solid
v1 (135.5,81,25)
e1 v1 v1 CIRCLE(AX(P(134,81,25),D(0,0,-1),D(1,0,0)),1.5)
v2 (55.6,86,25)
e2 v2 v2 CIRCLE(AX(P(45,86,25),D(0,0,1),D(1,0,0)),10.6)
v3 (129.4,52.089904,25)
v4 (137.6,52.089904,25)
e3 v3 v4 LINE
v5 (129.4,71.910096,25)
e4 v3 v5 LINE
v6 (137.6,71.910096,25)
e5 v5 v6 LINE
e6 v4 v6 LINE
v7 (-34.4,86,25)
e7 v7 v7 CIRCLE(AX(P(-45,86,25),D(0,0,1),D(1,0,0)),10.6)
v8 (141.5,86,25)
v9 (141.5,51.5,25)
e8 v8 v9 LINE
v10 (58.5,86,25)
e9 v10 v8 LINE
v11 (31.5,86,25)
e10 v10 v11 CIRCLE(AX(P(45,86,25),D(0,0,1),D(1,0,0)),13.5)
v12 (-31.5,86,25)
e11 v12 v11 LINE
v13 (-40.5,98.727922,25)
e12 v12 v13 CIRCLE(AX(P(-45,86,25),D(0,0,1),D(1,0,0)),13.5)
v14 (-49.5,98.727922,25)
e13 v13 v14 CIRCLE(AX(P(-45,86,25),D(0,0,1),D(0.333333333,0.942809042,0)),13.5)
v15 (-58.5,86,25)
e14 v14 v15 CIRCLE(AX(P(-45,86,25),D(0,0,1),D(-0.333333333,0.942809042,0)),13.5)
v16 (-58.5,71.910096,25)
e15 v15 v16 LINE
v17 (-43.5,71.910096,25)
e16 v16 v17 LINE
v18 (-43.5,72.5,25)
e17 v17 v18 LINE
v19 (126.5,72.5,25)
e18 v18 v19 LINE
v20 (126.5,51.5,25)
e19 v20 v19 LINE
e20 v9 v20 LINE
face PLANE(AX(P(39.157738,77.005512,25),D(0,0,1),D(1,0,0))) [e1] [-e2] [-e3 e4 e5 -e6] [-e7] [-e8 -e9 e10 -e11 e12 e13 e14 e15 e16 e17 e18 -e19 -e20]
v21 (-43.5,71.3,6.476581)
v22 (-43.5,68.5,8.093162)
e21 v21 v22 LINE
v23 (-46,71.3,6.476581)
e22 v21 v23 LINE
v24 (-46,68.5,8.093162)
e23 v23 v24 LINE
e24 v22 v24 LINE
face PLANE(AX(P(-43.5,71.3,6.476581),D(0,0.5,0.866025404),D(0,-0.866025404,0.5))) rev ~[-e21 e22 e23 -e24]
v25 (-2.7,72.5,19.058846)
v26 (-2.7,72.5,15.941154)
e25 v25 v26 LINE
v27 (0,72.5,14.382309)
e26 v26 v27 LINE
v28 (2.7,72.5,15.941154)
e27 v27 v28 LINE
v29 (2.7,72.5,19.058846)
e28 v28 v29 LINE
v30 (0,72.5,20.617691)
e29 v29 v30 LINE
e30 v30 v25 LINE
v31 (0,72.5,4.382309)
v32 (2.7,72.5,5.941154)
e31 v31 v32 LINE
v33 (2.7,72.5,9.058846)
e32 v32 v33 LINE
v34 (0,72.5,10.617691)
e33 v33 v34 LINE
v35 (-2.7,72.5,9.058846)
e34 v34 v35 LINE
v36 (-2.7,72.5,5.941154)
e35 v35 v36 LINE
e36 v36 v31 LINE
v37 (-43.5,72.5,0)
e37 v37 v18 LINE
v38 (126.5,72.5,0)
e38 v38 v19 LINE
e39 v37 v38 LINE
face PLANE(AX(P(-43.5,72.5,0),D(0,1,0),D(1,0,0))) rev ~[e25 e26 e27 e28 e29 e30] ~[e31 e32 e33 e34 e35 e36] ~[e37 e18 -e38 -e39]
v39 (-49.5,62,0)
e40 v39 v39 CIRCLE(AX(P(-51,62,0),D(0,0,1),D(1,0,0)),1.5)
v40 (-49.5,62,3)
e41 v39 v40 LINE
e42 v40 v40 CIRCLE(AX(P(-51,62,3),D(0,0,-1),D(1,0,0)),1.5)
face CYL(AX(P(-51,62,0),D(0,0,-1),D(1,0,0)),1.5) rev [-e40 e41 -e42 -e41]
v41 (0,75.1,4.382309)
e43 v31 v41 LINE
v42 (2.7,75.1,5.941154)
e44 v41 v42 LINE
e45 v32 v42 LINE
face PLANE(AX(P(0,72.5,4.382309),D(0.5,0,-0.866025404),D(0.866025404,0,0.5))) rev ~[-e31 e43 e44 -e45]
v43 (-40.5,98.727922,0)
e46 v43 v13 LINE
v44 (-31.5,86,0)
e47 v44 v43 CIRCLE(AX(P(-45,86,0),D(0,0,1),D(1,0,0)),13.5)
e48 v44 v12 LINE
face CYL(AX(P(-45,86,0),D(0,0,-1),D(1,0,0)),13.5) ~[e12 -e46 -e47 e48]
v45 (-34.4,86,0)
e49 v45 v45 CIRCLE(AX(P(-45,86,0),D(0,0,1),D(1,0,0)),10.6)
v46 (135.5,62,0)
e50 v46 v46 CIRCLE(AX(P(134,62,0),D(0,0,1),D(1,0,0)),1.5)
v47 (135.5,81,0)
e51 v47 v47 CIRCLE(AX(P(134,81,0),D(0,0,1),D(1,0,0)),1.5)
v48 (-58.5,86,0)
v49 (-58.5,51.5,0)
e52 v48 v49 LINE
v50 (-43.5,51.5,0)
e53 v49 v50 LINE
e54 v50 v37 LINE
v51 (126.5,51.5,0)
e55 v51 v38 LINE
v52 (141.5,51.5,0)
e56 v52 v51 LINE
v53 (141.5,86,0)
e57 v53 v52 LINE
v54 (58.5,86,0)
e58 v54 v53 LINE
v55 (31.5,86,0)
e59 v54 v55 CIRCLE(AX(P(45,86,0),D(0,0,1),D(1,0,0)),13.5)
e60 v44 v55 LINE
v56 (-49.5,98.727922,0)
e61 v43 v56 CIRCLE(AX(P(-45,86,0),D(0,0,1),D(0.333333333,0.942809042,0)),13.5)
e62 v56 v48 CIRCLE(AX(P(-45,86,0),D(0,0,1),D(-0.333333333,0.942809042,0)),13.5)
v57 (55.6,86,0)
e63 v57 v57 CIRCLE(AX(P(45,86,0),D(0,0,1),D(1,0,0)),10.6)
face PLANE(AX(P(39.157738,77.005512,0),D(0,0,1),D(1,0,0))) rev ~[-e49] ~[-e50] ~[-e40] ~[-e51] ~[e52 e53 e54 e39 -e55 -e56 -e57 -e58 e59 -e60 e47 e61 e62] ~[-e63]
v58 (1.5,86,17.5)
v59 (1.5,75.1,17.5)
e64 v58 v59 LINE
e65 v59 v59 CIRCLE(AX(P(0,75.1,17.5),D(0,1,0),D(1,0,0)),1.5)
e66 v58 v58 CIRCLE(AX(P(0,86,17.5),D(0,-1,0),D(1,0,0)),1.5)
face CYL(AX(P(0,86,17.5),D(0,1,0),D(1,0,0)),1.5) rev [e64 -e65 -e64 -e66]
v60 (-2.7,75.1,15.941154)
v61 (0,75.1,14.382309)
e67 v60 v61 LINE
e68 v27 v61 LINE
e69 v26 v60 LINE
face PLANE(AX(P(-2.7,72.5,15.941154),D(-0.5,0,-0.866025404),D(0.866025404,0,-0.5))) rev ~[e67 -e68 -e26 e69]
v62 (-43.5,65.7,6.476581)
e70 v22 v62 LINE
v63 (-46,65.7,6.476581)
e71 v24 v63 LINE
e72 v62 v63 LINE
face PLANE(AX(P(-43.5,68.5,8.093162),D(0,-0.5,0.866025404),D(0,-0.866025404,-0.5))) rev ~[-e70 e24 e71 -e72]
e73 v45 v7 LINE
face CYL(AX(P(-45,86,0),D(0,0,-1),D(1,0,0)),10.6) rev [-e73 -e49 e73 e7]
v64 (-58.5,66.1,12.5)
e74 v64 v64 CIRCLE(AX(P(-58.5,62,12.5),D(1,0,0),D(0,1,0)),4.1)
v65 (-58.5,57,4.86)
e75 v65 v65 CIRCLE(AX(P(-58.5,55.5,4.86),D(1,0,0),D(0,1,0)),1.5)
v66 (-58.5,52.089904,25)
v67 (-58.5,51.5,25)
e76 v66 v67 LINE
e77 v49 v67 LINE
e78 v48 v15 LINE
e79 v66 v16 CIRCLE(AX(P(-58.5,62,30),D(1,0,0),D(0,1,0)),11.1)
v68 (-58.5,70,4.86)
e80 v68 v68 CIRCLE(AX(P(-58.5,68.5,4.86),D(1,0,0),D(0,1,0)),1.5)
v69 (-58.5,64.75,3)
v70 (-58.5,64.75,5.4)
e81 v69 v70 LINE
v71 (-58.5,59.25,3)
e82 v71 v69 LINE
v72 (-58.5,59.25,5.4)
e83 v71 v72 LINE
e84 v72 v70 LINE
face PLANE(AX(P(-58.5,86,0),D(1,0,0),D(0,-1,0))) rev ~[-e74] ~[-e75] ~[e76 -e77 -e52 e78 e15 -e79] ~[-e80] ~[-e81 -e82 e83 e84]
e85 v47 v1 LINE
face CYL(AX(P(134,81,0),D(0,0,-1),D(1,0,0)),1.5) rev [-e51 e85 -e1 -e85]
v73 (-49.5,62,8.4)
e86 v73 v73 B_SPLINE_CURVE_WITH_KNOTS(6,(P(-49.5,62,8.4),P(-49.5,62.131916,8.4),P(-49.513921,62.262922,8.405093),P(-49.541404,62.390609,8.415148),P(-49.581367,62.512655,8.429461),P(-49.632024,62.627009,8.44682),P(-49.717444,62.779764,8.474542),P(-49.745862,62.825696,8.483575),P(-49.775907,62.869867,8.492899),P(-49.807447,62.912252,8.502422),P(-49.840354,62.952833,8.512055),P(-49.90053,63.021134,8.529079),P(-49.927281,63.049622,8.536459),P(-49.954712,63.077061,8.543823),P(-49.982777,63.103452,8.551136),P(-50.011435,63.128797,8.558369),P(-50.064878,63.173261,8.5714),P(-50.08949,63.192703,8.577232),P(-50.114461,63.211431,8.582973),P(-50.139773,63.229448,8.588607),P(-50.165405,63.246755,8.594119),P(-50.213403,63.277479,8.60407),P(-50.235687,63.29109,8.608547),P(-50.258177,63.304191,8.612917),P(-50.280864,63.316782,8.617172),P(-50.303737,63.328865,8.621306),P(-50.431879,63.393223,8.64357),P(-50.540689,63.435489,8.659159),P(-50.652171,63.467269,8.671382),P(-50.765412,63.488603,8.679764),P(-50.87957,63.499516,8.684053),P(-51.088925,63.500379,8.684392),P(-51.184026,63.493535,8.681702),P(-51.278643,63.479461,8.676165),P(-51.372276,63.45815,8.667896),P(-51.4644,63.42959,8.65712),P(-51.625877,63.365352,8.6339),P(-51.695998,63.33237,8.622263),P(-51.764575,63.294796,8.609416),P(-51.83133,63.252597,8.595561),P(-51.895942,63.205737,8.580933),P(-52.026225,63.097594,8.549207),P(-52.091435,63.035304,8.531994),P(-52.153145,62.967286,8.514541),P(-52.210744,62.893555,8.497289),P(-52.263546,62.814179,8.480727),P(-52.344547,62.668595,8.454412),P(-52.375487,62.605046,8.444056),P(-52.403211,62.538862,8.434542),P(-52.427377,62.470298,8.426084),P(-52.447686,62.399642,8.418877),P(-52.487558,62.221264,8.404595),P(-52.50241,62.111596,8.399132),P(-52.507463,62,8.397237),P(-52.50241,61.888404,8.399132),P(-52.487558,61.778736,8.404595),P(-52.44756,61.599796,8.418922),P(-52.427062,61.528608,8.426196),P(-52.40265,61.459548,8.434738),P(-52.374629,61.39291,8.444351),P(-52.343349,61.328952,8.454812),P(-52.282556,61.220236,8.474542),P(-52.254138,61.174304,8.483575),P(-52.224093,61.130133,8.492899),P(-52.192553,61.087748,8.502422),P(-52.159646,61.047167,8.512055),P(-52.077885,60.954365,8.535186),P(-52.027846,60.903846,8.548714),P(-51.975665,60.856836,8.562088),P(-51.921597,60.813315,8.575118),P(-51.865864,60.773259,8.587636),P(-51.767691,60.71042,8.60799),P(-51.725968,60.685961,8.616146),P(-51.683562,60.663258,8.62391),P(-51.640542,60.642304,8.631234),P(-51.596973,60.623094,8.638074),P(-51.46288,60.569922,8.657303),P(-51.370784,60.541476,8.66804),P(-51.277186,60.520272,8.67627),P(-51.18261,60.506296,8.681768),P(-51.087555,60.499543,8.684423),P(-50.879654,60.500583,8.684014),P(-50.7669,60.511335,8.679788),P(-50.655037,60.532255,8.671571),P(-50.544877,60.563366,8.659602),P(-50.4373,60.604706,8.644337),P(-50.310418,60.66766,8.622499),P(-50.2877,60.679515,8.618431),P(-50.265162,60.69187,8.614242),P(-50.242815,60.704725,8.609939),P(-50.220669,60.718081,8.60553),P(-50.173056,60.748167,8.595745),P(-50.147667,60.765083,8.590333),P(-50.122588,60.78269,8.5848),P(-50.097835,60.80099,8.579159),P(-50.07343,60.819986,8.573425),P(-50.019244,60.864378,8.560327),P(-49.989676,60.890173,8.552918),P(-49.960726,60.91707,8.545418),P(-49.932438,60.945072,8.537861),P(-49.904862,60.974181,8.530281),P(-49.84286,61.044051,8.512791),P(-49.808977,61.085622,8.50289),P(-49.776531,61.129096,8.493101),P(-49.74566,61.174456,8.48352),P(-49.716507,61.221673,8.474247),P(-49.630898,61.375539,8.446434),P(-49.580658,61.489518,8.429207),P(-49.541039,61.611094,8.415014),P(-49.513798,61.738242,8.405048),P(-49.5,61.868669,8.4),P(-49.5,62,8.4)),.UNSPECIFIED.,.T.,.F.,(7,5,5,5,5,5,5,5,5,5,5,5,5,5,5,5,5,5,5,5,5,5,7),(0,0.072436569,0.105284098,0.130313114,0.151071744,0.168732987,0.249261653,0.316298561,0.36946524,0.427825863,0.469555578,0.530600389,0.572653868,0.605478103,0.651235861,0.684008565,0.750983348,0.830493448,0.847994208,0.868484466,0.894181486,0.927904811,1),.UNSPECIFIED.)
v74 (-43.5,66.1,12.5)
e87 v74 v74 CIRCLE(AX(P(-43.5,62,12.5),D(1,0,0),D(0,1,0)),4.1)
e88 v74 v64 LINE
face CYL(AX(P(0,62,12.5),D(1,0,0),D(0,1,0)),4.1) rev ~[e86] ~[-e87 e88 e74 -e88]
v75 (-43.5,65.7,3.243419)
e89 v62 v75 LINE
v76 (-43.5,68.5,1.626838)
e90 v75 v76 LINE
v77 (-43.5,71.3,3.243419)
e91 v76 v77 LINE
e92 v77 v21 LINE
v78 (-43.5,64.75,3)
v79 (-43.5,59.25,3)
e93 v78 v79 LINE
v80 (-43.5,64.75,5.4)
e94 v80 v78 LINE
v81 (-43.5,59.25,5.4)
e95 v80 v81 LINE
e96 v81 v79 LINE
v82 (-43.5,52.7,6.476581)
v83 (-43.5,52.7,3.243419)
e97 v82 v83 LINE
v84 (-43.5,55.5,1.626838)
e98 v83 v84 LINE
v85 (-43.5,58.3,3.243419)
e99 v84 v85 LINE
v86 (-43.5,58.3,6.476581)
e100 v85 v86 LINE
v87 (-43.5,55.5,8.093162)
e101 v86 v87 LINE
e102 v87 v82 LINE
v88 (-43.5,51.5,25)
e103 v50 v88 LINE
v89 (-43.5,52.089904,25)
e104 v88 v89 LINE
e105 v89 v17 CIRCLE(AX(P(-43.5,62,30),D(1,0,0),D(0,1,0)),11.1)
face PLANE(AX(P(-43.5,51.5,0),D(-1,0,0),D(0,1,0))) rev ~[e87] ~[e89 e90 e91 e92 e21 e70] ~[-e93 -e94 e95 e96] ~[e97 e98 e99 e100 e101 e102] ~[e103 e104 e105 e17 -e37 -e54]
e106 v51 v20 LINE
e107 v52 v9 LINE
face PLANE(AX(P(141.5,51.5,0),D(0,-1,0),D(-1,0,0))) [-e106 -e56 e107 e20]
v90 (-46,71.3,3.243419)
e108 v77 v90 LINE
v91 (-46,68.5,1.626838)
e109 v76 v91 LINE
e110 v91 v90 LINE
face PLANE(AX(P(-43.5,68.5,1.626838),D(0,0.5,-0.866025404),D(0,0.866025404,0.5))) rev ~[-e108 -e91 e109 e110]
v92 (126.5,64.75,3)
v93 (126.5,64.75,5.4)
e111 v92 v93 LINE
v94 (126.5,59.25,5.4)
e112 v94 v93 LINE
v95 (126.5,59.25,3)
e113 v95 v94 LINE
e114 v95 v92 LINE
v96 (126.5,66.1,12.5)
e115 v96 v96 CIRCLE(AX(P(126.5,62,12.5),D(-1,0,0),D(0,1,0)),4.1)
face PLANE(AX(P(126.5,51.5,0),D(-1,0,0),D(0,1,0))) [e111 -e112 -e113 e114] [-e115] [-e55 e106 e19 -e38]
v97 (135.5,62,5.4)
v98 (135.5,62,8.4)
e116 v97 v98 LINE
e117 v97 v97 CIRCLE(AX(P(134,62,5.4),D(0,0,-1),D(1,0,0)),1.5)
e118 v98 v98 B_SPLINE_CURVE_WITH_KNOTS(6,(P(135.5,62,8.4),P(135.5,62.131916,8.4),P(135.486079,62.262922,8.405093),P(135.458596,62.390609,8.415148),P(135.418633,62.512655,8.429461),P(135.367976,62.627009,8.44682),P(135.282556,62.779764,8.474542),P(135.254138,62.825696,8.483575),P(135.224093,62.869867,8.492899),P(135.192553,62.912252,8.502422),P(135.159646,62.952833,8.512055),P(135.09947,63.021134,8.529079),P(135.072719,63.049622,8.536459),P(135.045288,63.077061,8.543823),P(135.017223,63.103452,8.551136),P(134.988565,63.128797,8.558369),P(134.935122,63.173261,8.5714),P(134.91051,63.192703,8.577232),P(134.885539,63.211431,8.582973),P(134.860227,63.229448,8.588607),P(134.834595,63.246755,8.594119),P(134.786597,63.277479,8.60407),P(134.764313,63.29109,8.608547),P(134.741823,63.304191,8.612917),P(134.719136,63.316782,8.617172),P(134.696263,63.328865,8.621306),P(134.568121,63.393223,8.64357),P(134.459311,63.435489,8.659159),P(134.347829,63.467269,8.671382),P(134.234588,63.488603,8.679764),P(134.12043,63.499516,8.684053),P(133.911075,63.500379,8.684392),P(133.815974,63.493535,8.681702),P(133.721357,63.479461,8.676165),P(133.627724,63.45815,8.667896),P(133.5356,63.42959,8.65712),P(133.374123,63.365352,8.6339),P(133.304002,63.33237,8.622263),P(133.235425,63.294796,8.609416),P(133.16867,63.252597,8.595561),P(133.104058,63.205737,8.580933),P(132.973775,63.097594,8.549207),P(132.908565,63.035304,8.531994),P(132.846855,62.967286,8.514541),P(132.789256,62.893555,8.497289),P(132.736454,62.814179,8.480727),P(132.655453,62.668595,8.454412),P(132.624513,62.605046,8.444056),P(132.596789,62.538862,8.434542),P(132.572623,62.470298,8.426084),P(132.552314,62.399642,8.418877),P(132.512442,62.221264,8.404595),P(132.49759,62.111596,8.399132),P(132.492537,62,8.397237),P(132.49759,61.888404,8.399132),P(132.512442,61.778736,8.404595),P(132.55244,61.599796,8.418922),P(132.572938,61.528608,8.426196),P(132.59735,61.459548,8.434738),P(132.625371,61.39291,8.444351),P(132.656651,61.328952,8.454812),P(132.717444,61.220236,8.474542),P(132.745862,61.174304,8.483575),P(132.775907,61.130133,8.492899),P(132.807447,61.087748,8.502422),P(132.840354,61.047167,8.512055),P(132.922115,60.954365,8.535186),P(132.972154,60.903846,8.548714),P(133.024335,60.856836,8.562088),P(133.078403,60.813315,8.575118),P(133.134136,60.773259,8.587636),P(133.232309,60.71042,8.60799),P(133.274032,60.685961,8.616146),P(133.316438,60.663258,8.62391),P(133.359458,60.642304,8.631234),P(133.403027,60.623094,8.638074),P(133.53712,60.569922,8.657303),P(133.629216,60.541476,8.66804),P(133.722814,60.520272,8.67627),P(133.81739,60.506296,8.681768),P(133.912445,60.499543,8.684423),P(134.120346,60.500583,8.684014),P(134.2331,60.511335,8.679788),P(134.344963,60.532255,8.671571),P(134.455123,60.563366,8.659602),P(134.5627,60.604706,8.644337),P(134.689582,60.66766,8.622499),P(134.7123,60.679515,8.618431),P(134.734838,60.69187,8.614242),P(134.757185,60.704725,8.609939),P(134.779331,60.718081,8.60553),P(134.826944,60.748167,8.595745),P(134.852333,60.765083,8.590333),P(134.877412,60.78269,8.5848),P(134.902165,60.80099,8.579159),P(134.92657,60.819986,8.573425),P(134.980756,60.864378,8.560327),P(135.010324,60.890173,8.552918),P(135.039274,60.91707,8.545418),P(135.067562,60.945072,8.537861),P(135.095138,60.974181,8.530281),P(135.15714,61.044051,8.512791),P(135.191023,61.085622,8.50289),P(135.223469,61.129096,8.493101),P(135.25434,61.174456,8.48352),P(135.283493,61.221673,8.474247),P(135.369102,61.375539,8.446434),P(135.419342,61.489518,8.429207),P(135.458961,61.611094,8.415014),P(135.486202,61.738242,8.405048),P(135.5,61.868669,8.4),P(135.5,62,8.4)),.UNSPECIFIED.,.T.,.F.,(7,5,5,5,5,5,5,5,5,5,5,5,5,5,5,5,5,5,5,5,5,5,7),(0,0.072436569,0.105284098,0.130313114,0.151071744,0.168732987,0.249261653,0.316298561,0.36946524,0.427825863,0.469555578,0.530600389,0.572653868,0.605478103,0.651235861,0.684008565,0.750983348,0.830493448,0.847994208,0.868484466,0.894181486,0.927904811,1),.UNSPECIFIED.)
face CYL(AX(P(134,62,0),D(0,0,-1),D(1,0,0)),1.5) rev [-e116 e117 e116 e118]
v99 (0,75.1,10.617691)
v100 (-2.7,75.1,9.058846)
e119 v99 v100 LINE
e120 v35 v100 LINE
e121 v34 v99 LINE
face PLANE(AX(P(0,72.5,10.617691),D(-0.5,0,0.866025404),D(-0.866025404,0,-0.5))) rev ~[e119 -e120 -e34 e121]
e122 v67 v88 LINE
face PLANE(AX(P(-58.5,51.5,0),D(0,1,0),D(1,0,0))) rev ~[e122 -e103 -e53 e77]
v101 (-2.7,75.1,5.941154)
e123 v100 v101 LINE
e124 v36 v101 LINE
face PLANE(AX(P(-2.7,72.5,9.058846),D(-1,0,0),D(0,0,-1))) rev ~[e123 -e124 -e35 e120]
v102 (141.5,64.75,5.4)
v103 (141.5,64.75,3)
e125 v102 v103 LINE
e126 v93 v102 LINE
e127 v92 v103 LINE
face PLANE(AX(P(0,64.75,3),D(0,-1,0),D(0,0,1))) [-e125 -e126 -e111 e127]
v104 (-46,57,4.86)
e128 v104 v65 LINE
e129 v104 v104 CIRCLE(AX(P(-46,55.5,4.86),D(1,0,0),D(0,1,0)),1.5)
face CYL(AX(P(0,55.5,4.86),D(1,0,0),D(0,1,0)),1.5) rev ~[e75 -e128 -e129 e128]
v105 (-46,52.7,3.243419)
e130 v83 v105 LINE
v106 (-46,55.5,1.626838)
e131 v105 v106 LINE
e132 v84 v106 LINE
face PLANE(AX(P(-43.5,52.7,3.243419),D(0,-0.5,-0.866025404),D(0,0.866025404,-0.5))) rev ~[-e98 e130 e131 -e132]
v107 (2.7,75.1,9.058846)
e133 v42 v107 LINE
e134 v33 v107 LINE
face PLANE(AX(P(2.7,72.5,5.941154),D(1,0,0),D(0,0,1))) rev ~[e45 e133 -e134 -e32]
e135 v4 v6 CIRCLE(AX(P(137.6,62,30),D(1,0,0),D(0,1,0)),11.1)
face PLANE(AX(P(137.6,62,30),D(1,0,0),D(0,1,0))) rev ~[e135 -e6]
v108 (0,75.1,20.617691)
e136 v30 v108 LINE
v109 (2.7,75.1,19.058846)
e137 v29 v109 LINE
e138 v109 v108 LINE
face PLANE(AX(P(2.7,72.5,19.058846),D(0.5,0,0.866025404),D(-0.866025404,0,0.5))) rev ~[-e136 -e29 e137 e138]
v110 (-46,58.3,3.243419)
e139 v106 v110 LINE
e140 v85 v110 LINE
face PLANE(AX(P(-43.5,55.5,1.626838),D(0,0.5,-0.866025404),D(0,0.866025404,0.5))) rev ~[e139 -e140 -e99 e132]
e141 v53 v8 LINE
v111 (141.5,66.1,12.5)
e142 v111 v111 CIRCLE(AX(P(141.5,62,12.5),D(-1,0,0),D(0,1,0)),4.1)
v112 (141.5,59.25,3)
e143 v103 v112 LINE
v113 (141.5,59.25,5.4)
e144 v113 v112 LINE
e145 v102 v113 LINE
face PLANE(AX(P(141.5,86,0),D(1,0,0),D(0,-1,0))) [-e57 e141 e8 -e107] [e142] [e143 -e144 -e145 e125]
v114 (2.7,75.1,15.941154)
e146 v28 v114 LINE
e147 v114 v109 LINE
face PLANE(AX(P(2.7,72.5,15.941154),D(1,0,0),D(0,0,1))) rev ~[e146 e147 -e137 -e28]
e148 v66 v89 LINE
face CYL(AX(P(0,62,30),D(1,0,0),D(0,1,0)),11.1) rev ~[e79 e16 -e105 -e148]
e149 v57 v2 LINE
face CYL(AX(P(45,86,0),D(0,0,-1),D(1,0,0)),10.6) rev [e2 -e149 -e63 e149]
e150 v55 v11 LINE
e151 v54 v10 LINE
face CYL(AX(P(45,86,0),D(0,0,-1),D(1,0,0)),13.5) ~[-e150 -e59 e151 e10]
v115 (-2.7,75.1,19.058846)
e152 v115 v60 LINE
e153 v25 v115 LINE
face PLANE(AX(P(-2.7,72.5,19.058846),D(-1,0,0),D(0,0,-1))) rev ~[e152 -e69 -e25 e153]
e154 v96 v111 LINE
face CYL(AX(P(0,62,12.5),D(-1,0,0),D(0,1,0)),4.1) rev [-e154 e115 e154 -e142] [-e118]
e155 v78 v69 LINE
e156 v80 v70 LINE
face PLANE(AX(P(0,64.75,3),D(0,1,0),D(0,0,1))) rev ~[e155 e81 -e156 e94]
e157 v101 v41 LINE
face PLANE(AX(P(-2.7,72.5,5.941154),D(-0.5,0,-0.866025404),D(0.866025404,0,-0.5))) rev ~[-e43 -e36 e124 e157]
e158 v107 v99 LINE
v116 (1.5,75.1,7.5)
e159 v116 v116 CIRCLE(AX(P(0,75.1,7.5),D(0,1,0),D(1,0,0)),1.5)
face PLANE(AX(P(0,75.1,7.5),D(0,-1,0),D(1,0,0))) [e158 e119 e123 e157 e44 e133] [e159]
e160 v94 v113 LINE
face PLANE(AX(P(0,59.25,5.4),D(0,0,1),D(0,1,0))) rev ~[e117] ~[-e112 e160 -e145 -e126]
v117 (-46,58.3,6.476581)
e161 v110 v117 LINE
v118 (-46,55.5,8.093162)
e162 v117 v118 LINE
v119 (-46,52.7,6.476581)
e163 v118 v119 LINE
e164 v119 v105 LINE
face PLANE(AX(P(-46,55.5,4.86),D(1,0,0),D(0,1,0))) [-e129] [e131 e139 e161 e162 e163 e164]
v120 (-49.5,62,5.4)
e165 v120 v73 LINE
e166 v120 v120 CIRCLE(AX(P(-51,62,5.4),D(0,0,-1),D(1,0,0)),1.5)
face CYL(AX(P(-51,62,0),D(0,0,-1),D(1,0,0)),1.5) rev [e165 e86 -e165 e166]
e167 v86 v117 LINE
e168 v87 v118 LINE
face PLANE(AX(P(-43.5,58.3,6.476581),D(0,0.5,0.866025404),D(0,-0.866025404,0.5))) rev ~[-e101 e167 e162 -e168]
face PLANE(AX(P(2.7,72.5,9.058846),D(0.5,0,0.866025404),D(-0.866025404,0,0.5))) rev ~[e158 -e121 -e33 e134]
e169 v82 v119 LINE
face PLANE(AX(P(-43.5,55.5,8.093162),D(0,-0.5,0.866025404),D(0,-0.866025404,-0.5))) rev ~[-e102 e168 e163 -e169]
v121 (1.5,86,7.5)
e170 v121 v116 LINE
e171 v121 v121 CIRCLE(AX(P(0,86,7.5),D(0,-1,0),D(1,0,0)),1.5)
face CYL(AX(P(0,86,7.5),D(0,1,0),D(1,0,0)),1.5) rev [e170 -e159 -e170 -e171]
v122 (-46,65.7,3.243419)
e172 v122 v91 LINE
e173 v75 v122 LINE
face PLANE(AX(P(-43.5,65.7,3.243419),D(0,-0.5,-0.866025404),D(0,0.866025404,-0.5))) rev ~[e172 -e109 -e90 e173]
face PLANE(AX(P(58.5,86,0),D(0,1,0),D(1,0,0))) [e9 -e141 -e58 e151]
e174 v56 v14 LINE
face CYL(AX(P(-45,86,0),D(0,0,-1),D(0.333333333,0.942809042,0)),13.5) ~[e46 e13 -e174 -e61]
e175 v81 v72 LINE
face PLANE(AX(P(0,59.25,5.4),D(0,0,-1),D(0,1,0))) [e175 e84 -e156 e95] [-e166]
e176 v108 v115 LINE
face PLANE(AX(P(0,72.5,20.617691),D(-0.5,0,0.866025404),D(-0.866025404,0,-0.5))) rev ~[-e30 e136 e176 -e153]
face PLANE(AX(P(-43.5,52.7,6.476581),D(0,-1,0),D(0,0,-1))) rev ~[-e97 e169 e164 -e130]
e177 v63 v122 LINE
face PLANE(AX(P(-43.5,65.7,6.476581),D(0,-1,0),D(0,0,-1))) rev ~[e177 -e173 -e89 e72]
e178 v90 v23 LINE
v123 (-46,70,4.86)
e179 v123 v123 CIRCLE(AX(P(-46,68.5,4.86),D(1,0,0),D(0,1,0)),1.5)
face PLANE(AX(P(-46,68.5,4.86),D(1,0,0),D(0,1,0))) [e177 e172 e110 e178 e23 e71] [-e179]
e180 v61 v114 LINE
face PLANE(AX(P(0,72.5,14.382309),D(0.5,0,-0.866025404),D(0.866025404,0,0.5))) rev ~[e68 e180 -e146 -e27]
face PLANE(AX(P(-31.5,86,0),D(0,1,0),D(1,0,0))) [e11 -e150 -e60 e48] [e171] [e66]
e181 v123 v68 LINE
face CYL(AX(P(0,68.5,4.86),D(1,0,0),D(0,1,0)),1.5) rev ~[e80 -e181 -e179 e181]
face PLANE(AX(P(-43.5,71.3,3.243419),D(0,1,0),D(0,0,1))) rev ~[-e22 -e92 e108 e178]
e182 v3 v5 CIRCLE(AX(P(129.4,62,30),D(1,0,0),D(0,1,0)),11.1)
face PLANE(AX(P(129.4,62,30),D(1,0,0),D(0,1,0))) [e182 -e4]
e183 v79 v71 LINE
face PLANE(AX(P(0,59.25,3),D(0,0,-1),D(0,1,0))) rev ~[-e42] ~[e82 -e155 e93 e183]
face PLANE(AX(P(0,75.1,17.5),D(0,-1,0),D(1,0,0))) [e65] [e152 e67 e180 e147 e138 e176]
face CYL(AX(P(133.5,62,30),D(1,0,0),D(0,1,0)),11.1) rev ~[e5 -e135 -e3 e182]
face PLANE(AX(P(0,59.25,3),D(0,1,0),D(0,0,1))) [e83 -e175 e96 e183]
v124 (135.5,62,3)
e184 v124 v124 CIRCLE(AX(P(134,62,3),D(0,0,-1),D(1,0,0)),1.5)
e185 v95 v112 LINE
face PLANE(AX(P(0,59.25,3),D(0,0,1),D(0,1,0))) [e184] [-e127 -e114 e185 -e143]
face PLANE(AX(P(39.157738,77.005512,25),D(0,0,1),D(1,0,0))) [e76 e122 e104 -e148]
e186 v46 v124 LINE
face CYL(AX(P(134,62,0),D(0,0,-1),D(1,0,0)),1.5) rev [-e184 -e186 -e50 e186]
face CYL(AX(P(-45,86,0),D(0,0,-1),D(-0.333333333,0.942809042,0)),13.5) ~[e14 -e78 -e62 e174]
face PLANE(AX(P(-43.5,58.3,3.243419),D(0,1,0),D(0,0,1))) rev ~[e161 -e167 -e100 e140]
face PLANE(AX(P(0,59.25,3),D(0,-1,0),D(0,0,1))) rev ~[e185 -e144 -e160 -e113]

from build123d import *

# Parameters (mm, degrees)
SKETCH007_R          = 10.6
PAD006_DEPTH         = 25
SKETCH016_R          = 4.1
SKETCH016_W          = 5.5
SKETCH016_H          = 2.4
POCKET008_DEPTH      = 58.501
POCKET008_DEPTH_BACK = 141.501
SKETCH024_R          = 11.1
SKETCH024_R_2        = 4.09
POCKET013_DEPTH      = 4.1
SKETCH025_R          = 1.5
POCKET014_DEPTH      = 13.501
POCKET014_DEPTH_BACK = 34.501
POCKET015_DEPTH      = 2.6
SKETCH027_R          = 1.5
POCKET016_DEPTH      = 12.5
SKETCH028_R          = 1.5
POCKET017_DEPTH      = 58.5010001
POCKET018_DEPTH      = 2.5
SKETCH032_R          = 1.5
POCKET019_DEPTH      = 0.001
POCKET019_DEPTH_BACK = 25.001
SKETCH033_R          = 11.1
POCKET020_DEPTH      = 58.5010001


with BuildPart() as part:
    # Sketch007 → Pad006 (new body)
    with BuildSketch(Plane.XY):
        with BuildLine():
            ThreePointArc((-31.5, 0), (-33.9772961575, 7.7942286341), (-40.5, 12.7279220614))
            ThreePointArc((-40.5, 12.7279220614), (-45, 13.5), (-49.5, 12.7279220614))
            ThreePointArc((-49.5, 12.7279220614), (-56.0227038425, 7.7942286341), (-58.5, 0))
            Line((-58.5, 0), (-58.5, -13.5))
            Line((-58.5, -17.2720779386), (-58.5, -13.5))
            Line((-58.5, -17.2720779386), (-58.5, -34.5))
            Line((-58.5, -34.5), (-43.5, -34.5))
            Line((-43.5, -34.5), (-43.5, -17.2720779386))
            Line((-43.5, -13.5), (-43.5, -17.2720779386))
            Line((-43.5, -13.5), (126.5, -13.5))
            Line((126.5, -34.5), (126.5, -13.5))
            Line((141.5, -34.5), (126.5, -34.5))
            Line((141.5, -13.5), (141.5, -34.5))
            Line((141.5, 0), (141.5, -13.5))
            Line((126.5, 0), (141.5, 0))
            Line((58.5, 0), (126.5, 0))
            ThreePointArc((58.5, 0), (45, 13.5), (31.5, 0))
            Line((-31.5, 0), (31.5, 0))
        make_face()
        with Locations((-45, 0)):
            Circle(SKETCH007_R, mode=Mode.SUBTRACT)
        with Locations((45, 0)):
            Circle(SKETCH007_R, mode=Mode.SUBTRACT)
    extrude(amount=PAD006_DEPTH)

    # Sketch016 → Pocket008 (cut, two sides)
    with BuildSketch(Plane.YZ) as pocket008_sk:
        with Locations((-24, 12.5)):
            Circle(SKETCH016_R)
        with Locations((-24, 4.2)):
            Rectangle(SKETCH016_W, SKETCH016_H)
    extrude(amount=-POCKET008_DEPTH, mode=Mode.SUBTRACT)
    extrude(pocket008_sk.sketch, amount=POCKET008_DEPTH_BACK, mode=Mode.SUBTRACT)

    # Sketch024 → Pocket013 (cut, symmetric)
    with BuildSketch(Plane.YZ.offset(133.5)):
        with Locations((-24, 30)):
            Circle(SKETCH024_R)
        with Locations((-24, 30)):
            Circle(SKETCH024_R_2, mode=Mode.SUBTRACT)
    extrude(amount=POCKET013_DEPTH, both=True, mode=Mode.SUBTRACT)

    # Sketch025 → Pocket014 (cut, two sides)
    with BuildSketch(Plane.XZ) as pocket014_sk:
        with Locations((0, 17.5)):
            Circle(SKETCH025_R)
        with Locations((0, 7.5)):
            Circle(SKETCH025_R)
    extrude(amount=-POCKET014_DEPTH, mode=Mode.SUBTRACT)
    extrude(pocket014_sk.sketch, amount=POCKET014_DEPTH_BACK, mode=Mode.SUBTRACT)

    # Sketch026 → Pocket015 (cut)
    with BuildSketch(Plane.XZ.offset(13.5)):
        Polygon((2.7, 19.0588457268), (0, 20.6176914536), (-2.7, 19.0588457268), (-2.7, 15.9411542732), (0, 14.3823085464), (2.7, 15.9411542732), align=None)
        Polygon((2.7, 9.0588457268), (0, 10.6176914536), (-2.7, 9.0588457268), (-2.7, 5.9411542732), (0, 4.3823085464), (2.7, 5.9411542732), align=None)
    extrude(amount=-POCKET015_DEPTH, mode=Mode.SUBTRACT)

    # Sketch027 → Pocket016 (cut)
    with BuildSketch(Plane.XY):
        with Locations((-51, -24)):
            Circle(SKETCH027_R)
        with Locations((134, -24)):
            Circle(SKETCH027_R)
    extrude(amount=POCKET016_DEPTH, mode=Mode.SUBTRACT)

    # Sketch028 → Pocket017 (cut, through all)
    with BuildSketch(Plane.YZ):
        with Locations((-30.5, 4.86)):
            Circle(SKETCH028_R)
        with Locations((-17.5, 4.86)):
            Circle(SKETCH028_R)
    extrude(amount=-POCKET017_DEPTH, mode=Mode.SUBTRACT)

    # Sketch029 → Pocket018 (cut)
    with BuildSketch(Plane.YZ.offset(-43.5)):
        Polygon((-27.7, 6.4765807537), (-30.5, 8.0931615075), (-33.3, 6.4765807537), (-33.3, 3.2434192463), (-30.5, 1.6268384925), (-27.7, 3.2434192463), align=None)
        Polygon((-20.3, 6.4765807537), (-20.3, 3.2434192463), (-17.5, 1.6268384925), (-14.7, 3.2434192463), (-14.7, 6.4765807537), (-17.5, 8.0931615075), align=None)
    extrude(amount=-POCKET018_DEPTH, mode=Mode.SUBTRACT)

    # Sketch032 → Pocket019 (cut, two sides)
    with BuildSketch(Plane.XY) as pocket019_sk:
        with Locations((134, -5)):
            Circle(SKETCH032_R)
    extrude(amount=-POCKET019_DEPTH, mode=Mode.SUBTRACT)
    extrude(pocket019_sk.sketch, amount=POCKET019_DEPTH_BACK, mode=Mode.SUBTRACT)

    # Sketch033 → Pocket020 (cut, through all)
    with BuildSketch(Plane.YZ):
        with Locations((-24, 30)):
            Circle(SKETCH033_R)
    extrude(amount=-POCKET020_DEPTH, mode=Mode.SUBTRACT)


with BuildPart() as part_1:
    # Body005 placement: moved
    add(part.part.moved(Location((0, 86, 0))))


solid = part_1.part
